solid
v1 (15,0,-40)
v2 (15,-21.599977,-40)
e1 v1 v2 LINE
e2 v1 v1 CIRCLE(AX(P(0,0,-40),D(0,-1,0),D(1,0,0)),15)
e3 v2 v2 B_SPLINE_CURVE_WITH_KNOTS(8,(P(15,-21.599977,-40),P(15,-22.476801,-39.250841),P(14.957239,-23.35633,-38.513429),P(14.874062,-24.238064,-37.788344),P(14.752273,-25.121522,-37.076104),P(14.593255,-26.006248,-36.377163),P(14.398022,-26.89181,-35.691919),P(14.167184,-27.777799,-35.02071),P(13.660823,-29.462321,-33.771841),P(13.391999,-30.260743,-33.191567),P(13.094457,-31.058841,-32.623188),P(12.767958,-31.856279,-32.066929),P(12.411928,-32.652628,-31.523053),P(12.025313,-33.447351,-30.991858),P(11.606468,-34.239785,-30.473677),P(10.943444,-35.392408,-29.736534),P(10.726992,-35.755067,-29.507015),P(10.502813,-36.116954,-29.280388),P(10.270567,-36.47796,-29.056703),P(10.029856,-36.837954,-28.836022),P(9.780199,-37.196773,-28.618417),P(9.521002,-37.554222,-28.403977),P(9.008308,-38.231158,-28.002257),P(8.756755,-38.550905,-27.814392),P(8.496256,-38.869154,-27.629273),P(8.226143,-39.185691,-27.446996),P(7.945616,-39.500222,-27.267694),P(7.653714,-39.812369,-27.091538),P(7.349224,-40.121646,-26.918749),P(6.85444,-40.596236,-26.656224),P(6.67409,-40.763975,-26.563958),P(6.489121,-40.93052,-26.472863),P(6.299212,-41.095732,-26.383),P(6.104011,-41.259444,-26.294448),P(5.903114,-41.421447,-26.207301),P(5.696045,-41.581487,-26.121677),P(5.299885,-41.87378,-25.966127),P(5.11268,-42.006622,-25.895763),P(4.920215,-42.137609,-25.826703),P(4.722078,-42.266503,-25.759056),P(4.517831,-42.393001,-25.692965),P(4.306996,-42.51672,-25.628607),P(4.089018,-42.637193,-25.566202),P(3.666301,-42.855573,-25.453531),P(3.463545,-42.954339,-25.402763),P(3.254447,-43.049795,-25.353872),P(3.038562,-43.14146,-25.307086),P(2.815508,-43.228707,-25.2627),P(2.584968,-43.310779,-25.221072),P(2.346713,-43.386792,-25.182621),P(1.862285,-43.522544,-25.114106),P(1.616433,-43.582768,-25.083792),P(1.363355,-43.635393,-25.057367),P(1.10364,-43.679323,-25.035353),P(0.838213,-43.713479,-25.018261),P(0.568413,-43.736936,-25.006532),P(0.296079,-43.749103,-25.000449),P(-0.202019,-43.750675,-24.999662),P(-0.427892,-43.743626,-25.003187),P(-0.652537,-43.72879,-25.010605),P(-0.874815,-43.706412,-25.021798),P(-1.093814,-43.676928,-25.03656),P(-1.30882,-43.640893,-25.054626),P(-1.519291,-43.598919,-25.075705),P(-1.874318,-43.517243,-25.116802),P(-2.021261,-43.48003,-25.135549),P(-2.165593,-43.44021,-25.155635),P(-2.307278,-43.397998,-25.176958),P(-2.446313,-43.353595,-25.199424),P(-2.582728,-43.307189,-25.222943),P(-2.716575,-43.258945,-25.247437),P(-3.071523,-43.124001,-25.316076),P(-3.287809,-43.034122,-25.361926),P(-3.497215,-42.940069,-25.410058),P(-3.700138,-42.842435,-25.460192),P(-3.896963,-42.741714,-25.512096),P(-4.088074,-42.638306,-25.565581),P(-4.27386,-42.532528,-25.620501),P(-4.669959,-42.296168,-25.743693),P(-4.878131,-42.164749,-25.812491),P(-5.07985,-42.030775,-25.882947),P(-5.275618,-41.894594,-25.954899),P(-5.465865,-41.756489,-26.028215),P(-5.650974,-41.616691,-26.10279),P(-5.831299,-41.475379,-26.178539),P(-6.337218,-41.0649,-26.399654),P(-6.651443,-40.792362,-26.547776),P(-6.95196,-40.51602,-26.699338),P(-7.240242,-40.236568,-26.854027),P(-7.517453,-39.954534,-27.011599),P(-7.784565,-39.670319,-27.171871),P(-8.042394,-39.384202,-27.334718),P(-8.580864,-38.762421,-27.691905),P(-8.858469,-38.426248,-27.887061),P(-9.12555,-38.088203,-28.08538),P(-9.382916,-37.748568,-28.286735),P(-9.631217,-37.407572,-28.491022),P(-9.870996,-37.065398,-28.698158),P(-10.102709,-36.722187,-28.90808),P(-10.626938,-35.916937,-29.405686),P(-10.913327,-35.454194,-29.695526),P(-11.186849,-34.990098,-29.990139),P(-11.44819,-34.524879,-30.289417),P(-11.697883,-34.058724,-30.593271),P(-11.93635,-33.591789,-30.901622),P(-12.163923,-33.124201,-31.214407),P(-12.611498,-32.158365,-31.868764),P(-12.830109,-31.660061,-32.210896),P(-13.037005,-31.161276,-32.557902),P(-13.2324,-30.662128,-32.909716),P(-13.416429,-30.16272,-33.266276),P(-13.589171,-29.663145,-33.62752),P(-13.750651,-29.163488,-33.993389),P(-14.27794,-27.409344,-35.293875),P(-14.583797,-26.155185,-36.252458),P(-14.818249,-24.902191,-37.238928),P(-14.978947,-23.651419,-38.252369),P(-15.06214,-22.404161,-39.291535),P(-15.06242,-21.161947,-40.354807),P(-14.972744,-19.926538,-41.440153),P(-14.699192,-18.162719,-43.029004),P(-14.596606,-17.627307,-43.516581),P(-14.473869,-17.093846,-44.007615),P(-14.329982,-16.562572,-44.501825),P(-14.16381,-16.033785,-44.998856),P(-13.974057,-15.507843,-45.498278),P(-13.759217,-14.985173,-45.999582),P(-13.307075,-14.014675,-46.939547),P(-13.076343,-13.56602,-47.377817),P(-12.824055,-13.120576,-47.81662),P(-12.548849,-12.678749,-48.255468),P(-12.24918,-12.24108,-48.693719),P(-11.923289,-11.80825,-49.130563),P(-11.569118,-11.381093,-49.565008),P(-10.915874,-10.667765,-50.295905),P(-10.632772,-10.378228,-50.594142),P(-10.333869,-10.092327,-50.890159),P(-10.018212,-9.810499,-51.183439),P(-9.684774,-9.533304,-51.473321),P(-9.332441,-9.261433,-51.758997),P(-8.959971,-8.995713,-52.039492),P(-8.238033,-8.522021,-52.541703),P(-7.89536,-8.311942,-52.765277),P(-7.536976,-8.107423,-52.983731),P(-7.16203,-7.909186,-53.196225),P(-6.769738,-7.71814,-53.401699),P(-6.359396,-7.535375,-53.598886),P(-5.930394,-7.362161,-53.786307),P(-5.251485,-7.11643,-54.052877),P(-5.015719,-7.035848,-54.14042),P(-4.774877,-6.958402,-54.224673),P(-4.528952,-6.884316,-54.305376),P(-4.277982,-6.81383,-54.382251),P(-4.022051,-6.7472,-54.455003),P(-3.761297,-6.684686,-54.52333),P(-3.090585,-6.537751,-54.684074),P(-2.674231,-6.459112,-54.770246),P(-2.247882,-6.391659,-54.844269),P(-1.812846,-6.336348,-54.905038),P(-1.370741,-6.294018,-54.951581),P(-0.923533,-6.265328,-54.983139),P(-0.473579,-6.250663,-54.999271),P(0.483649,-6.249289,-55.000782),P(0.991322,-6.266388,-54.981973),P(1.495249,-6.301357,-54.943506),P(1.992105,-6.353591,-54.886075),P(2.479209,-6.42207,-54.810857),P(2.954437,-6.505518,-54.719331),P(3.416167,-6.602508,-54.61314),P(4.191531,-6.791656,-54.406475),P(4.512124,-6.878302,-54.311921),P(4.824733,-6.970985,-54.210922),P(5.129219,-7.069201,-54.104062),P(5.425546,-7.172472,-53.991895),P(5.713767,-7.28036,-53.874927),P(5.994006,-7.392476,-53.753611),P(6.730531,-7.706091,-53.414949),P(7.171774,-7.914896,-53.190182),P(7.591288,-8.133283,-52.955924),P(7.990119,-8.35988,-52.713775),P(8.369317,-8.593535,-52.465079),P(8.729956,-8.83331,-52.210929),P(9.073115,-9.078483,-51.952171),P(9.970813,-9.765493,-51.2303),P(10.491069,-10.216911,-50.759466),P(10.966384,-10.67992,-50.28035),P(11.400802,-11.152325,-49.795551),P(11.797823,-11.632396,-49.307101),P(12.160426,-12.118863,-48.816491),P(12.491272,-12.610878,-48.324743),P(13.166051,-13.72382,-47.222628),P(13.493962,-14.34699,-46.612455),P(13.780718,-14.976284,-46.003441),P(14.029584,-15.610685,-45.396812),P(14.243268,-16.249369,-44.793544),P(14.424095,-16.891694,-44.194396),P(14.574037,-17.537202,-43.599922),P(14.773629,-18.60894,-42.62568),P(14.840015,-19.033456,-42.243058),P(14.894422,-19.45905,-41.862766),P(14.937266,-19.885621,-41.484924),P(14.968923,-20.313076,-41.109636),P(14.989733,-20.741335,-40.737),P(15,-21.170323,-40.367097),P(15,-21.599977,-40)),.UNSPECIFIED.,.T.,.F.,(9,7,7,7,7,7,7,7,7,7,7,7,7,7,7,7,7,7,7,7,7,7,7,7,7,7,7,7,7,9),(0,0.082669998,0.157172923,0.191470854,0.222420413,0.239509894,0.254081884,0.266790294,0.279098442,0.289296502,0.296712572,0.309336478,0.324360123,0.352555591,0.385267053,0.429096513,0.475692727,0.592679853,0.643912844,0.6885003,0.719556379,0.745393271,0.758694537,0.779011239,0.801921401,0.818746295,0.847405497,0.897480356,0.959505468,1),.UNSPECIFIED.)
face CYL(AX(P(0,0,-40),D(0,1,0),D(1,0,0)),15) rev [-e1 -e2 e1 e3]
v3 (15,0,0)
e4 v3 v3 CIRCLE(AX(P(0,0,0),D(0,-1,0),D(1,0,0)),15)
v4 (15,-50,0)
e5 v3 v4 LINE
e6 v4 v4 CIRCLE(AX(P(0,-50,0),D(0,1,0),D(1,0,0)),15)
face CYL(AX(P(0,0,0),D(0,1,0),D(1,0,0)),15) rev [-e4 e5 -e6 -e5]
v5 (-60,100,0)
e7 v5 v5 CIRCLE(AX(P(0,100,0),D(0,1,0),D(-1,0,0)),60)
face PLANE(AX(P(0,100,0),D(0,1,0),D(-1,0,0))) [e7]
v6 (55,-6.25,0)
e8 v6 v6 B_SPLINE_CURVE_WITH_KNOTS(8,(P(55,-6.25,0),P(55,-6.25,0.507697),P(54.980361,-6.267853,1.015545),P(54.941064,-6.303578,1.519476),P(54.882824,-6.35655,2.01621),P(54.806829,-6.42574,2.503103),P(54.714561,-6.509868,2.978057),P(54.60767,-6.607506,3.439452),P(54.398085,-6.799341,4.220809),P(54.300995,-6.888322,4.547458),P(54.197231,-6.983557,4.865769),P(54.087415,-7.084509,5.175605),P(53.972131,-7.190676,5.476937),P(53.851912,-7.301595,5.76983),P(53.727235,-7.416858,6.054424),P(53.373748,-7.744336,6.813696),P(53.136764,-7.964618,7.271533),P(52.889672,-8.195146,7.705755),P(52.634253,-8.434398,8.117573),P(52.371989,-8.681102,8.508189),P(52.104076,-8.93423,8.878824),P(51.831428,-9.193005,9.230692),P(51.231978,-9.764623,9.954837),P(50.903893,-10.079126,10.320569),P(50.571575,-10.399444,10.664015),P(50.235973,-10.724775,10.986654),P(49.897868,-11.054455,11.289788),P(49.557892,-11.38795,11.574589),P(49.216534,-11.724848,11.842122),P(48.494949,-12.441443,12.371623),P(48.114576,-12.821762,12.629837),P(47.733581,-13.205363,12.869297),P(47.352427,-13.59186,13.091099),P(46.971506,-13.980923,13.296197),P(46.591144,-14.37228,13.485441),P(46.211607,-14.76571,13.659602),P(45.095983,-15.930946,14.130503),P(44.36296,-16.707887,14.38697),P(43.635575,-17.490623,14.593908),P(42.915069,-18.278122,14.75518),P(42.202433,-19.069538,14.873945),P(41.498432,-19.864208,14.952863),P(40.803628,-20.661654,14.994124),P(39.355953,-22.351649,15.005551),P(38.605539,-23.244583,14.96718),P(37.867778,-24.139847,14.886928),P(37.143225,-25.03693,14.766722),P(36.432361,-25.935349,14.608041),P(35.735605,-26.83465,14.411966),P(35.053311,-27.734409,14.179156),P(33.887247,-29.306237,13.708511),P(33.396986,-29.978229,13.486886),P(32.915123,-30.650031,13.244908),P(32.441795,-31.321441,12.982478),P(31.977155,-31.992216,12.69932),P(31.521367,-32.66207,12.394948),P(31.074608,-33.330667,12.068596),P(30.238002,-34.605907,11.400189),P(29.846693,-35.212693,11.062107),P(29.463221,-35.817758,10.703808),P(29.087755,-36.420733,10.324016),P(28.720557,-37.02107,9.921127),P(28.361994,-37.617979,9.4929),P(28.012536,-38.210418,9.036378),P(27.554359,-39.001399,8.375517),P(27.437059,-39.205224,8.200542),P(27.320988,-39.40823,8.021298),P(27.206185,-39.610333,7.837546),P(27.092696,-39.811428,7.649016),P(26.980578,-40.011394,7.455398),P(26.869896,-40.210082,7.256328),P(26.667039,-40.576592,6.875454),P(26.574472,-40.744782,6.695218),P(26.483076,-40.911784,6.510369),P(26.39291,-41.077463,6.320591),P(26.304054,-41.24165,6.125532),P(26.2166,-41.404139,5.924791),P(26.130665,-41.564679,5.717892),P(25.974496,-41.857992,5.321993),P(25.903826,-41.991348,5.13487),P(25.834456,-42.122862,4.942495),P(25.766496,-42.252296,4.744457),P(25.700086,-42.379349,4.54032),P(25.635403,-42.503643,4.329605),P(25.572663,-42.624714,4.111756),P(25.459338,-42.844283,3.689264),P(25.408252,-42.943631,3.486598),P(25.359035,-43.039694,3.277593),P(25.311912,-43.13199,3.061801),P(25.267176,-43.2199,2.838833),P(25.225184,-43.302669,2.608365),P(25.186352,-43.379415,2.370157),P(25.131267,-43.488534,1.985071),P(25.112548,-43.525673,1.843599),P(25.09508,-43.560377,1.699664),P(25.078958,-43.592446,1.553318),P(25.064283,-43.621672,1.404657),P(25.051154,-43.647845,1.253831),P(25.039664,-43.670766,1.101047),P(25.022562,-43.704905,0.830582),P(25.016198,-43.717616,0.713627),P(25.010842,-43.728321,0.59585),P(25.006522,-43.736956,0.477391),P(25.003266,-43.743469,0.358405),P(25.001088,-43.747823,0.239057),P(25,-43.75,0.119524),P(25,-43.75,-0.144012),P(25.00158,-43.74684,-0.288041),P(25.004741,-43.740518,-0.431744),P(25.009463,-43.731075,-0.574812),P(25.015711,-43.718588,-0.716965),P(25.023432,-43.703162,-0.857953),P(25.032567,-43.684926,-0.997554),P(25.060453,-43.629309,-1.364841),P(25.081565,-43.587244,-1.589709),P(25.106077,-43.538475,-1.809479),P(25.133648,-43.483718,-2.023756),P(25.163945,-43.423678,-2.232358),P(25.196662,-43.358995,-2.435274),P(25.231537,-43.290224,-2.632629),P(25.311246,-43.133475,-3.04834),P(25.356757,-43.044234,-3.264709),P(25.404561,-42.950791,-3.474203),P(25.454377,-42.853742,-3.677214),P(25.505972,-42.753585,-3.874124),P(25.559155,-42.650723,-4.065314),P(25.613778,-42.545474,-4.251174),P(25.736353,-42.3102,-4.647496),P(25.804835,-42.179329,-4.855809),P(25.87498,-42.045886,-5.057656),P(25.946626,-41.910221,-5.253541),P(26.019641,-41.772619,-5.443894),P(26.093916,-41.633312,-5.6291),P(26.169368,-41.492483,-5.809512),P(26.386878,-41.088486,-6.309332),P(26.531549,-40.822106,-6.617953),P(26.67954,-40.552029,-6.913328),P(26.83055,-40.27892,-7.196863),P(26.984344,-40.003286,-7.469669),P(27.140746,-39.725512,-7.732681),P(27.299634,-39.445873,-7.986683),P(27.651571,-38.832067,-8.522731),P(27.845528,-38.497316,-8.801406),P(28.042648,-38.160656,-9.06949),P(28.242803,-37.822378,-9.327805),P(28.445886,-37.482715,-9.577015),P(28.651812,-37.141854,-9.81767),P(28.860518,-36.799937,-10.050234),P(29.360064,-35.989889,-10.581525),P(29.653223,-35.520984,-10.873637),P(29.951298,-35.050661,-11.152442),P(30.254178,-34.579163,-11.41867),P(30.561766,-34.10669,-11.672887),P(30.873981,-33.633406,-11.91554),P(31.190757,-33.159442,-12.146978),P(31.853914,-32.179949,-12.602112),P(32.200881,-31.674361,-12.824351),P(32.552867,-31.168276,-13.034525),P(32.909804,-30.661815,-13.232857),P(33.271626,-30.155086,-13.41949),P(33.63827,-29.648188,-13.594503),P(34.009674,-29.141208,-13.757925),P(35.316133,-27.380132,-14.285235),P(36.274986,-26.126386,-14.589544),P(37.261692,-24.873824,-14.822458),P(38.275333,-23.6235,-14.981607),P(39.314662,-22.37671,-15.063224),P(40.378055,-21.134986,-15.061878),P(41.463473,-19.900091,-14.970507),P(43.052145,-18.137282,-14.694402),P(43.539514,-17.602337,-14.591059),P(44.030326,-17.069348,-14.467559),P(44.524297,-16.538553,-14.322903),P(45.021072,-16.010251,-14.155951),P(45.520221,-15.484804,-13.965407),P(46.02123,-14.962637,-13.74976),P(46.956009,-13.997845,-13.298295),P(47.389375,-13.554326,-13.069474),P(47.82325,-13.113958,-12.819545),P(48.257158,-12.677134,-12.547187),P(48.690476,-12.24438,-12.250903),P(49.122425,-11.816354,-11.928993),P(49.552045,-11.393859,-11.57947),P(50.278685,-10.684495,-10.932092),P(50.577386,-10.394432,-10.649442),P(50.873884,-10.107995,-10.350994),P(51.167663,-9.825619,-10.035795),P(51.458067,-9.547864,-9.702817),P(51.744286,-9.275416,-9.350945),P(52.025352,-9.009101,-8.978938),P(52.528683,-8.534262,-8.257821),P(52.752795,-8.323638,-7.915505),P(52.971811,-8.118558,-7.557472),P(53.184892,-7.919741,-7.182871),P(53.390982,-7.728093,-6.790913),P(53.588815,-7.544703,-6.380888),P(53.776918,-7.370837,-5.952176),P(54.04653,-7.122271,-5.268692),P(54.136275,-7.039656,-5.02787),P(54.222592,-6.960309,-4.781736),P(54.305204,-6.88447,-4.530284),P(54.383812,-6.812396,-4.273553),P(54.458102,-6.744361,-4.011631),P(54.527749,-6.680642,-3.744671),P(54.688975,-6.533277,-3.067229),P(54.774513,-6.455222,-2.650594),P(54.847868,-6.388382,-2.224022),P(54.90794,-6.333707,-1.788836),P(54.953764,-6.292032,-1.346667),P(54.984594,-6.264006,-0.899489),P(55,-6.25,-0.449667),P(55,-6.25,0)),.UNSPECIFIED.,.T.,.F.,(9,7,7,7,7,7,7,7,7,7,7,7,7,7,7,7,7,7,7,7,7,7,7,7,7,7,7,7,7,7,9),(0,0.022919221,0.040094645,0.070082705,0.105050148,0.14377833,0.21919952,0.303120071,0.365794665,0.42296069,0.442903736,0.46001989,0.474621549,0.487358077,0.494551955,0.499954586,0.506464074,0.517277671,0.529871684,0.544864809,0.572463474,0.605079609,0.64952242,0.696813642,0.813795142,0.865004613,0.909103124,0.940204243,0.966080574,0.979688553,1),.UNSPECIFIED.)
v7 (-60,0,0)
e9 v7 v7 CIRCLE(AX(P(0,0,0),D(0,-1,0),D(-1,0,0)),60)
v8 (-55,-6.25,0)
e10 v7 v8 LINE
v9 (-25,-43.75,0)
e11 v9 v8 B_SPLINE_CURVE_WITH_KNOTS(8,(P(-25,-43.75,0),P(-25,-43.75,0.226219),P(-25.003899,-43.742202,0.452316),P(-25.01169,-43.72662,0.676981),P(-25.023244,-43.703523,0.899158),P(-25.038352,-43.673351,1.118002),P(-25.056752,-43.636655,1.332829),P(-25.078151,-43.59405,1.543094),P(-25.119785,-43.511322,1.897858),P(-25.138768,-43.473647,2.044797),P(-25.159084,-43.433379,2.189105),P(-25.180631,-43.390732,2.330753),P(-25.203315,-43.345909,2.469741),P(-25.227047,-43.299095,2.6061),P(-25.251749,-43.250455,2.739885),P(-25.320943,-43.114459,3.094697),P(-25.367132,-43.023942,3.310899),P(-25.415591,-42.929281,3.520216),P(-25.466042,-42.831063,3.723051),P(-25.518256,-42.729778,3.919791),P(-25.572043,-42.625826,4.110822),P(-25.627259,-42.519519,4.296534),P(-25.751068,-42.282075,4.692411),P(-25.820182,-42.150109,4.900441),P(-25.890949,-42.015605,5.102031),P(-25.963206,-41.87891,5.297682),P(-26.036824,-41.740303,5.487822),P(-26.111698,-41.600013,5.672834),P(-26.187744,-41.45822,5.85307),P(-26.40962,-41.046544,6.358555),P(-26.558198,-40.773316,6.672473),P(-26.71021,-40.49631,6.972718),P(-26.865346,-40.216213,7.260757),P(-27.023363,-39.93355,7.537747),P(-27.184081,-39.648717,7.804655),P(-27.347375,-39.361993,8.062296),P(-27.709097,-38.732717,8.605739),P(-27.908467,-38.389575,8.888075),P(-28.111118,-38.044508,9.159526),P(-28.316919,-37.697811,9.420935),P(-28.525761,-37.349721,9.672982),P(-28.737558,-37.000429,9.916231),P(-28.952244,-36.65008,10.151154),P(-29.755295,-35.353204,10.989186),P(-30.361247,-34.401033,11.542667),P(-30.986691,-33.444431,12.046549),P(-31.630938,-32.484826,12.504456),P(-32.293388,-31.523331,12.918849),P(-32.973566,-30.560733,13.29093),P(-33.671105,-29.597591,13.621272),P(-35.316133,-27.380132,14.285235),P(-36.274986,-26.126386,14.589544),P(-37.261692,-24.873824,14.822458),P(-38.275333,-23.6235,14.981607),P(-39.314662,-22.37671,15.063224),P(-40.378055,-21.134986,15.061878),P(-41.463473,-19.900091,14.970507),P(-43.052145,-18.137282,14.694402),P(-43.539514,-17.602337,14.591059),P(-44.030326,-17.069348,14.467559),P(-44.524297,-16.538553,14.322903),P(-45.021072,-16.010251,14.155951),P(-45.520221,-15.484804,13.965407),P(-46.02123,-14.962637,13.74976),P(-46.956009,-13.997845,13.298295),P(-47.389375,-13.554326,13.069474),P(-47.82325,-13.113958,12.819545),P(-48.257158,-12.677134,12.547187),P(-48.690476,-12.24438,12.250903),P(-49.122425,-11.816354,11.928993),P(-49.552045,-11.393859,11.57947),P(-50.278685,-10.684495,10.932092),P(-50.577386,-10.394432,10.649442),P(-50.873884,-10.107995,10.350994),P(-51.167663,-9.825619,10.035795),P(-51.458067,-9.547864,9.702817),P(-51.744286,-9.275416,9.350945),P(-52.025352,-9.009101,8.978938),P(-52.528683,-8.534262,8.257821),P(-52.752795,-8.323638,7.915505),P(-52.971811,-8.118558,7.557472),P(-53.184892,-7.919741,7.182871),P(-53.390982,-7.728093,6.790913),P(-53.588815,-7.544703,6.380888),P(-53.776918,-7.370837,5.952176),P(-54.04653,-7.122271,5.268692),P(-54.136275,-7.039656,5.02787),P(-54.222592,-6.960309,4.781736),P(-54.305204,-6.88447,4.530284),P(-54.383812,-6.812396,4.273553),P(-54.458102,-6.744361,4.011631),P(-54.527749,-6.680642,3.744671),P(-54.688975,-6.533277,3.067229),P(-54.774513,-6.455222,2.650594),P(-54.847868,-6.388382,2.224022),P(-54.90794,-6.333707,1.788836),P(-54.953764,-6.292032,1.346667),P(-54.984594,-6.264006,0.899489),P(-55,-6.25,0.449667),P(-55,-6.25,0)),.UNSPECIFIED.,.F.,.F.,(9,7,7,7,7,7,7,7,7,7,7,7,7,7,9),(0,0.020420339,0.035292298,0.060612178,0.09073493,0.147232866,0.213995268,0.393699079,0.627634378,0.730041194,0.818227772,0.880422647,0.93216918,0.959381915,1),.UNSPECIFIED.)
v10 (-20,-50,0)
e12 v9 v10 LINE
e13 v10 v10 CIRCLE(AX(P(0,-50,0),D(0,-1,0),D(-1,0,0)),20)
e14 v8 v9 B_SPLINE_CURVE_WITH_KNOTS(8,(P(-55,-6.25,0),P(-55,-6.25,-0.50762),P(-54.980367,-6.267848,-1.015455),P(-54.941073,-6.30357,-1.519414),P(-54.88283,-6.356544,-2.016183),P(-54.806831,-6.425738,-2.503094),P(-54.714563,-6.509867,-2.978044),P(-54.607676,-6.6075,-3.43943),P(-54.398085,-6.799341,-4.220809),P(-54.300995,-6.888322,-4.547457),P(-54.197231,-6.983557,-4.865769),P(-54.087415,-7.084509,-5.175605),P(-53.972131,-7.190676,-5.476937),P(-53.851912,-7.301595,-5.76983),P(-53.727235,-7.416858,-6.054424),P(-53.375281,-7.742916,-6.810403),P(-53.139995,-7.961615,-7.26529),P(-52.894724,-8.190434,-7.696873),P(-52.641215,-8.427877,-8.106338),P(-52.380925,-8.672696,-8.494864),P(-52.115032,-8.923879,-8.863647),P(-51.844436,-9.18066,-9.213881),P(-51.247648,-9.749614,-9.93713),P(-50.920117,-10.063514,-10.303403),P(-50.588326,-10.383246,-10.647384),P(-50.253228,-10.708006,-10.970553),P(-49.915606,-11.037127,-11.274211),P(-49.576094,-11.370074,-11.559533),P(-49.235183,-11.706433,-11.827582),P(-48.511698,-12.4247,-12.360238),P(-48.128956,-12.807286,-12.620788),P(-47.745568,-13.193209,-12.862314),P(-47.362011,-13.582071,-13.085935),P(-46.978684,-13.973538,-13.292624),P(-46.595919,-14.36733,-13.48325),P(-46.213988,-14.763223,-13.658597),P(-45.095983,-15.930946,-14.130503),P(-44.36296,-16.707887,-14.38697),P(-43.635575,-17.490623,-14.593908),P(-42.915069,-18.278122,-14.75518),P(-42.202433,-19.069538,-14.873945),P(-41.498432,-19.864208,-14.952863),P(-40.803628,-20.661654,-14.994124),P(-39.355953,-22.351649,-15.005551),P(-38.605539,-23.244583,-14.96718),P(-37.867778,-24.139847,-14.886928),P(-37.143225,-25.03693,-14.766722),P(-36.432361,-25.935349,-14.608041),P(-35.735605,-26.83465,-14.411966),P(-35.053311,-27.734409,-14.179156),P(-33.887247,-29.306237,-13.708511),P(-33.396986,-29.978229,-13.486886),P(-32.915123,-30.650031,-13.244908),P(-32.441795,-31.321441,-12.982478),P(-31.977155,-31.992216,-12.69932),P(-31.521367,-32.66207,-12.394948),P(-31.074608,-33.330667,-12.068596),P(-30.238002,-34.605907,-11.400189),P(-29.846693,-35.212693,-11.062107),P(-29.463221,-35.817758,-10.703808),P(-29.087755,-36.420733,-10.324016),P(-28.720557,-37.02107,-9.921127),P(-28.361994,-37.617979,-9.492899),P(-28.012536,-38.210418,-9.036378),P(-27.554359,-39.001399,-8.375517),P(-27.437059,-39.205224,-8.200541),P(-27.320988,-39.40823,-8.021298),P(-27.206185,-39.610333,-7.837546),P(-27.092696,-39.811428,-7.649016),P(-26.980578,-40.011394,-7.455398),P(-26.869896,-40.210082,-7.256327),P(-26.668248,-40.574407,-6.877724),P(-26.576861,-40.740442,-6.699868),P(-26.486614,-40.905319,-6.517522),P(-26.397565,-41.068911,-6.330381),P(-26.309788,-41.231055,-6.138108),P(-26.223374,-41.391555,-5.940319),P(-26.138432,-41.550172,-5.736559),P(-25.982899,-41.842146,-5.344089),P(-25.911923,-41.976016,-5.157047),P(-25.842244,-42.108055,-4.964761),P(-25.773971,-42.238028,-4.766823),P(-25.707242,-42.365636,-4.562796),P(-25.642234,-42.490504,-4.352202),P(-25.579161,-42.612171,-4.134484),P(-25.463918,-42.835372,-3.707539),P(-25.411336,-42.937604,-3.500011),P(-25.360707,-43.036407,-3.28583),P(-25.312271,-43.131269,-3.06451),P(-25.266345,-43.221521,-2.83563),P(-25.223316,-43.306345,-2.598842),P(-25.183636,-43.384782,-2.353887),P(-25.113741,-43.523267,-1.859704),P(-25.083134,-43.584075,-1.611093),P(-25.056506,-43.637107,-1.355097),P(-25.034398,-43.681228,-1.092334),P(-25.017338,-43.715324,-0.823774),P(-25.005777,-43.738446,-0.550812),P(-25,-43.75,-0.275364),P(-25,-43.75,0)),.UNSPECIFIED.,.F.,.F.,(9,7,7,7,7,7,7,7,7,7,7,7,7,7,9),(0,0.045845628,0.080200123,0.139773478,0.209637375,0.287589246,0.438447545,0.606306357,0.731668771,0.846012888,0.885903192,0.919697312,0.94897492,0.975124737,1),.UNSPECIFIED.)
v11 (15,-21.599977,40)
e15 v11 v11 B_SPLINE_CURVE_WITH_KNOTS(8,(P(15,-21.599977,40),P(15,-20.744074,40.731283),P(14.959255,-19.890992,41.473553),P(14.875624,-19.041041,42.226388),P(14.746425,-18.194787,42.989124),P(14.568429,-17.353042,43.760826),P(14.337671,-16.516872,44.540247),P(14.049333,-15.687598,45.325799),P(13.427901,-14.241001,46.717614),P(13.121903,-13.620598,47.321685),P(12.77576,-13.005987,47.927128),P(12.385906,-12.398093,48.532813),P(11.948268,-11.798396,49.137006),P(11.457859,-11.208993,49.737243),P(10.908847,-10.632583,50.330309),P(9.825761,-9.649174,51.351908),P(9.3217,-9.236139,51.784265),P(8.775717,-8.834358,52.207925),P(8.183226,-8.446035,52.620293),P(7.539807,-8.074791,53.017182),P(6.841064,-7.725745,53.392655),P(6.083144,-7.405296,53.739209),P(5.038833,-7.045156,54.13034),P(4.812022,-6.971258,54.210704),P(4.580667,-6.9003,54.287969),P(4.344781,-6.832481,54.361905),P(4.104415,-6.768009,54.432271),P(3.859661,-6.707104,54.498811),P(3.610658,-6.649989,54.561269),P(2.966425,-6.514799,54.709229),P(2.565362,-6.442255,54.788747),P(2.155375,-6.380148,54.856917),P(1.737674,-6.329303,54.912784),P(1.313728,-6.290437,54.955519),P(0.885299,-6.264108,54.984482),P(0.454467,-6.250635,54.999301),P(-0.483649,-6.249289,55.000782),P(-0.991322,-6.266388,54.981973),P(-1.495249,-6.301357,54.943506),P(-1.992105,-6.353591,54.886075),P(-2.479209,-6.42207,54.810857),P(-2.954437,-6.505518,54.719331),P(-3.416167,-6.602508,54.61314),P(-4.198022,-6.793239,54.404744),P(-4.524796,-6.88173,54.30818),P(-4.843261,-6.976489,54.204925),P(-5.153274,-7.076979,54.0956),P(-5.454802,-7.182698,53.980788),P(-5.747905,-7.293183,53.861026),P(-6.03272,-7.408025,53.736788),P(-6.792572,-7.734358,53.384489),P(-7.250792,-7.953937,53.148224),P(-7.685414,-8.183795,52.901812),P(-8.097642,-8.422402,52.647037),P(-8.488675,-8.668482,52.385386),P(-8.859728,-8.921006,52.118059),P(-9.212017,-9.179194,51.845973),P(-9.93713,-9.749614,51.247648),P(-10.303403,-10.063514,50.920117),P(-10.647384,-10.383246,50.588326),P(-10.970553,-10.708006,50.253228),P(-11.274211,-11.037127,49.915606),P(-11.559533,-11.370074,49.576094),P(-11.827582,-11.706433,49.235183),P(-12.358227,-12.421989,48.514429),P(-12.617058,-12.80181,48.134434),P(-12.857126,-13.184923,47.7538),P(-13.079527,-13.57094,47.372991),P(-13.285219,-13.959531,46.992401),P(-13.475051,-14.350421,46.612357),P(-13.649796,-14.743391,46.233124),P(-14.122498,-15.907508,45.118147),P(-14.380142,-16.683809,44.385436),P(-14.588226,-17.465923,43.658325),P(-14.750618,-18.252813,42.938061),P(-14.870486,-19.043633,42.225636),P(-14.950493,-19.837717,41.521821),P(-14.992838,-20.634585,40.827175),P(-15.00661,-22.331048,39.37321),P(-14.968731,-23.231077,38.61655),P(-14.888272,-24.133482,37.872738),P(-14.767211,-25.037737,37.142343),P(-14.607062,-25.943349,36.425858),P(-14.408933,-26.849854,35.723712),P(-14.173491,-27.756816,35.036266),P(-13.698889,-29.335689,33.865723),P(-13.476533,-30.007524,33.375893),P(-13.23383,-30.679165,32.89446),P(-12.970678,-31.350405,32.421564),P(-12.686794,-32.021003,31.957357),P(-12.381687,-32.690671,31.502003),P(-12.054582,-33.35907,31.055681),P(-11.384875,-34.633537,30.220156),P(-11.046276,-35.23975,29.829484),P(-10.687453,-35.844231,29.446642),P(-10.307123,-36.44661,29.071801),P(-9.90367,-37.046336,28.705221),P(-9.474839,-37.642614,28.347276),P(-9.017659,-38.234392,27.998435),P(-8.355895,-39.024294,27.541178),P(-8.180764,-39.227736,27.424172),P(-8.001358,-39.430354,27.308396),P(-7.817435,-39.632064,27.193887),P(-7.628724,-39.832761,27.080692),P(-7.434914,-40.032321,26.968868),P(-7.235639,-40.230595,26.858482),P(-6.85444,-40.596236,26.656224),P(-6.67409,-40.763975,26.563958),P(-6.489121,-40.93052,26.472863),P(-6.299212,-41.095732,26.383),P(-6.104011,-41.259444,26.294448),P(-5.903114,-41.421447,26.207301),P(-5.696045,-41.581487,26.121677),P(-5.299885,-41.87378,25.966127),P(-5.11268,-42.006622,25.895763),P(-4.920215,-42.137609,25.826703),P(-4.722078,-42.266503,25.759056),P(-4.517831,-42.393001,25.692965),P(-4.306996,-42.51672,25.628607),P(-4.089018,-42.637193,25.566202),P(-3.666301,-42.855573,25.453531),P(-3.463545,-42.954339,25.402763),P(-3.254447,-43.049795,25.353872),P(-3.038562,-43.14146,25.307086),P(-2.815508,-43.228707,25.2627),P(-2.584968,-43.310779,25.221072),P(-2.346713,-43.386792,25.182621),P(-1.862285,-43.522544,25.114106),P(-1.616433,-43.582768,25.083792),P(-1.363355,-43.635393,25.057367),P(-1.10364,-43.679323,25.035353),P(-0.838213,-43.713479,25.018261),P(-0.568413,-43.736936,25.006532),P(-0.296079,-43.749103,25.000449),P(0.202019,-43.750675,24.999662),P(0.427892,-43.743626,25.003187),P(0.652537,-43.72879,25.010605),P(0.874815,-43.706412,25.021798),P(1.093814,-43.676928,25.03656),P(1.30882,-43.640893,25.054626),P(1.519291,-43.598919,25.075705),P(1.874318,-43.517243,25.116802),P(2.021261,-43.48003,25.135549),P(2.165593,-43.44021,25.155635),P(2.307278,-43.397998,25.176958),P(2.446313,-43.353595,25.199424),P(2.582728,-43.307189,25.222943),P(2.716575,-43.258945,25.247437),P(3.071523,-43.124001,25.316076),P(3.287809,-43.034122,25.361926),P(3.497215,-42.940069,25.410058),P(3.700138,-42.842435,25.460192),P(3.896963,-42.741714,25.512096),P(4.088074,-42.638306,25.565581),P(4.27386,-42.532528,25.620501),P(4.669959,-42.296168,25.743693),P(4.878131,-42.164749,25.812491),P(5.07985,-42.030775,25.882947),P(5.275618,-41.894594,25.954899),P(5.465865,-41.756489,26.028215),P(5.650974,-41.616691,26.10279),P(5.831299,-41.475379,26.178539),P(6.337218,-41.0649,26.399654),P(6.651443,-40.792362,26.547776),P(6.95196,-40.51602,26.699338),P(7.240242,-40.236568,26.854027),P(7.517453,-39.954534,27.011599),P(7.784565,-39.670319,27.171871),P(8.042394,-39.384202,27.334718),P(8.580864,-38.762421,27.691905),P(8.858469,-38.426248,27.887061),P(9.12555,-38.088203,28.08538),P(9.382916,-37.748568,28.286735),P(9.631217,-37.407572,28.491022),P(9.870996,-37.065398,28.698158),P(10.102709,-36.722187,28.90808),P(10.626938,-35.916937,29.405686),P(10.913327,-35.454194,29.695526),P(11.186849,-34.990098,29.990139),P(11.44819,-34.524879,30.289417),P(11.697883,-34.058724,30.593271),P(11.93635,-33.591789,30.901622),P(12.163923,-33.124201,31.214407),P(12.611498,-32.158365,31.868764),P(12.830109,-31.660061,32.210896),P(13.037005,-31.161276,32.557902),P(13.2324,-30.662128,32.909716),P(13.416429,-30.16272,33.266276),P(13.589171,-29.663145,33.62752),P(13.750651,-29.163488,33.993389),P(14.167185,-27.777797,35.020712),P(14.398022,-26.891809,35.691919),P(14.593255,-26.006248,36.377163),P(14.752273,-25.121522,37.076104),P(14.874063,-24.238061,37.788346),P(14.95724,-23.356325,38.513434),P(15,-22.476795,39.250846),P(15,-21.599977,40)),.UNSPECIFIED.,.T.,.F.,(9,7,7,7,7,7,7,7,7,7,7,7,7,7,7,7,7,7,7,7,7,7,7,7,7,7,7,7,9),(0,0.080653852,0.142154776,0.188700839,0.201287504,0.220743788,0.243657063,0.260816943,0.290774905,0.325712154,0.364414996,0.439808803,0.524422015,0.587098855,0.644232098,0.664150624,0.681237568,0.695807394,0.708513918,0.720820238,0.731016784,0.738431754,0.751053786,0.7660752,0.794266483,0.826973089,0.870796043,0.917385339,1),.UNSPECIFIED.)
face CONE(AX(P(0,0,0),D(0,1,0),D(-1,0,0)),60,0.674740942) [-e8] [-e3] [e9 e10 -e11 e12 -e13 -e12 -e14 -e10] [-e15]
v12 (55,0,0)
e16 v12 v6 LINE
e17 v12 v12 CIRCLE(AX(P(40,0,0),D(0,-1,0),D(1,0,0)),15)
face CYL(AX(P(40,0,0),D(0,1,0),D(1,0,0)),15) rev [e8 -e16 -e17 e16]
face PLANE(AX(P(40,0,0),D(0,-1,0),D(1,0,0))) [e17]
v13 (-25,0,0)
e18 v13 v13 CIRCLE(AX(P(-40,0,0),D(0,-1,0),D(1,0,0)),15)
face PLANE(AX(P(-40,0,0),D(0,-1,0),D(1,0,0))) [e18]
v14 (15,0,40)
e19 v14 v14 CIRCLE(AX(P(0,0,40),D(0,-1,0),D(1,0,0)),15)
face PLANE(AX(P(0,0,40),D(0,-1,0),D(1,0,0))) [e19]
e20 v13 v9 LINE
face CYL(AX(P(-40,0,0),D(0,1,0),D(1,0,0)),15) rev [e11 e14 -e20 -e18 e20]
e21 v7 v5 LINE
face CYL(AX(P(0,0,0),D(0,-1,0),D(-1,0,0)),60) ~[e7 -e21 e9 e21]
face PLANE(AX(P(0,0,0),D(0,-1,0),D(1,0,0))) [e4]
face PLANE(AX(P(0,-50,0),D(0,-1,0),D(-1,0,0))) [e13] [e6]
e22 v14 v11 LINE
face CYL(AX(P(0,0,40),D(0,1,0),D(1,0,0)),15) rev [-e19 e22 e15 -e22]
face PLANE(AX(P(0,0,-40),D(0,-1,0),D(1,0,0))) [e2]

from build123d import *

# Parameters (mm, degrees)
F0_FACE_R = 60
F4_DEPTH  = 100
F1_R      = 15
F2_DEPTH  = 50.001


with BuildPart() as f0:
    # F3 (on Top) → F0 (revolve)
    with BuildSketch(Plane.XY):
        Polygon((0, 0), (-60, 0), (-20, -50), (0, -50), align=None)
    revolve(axis=Axis((0, -25, 0), (0, -1, 0)))

    # F0_face (on face) → F4 (join)
    with BuildSketch(Plane(origin=(0, 0, 0), x_dir=(-1, 0, 0), z_dir=(0, 1, 0))):
        Circle(F0_FACE_R)
    extrude(amount=F4_DEPTH)

    # F1 (on Front) → F2 (cut, through all)
    with BuildSketch(Plane.XZ):
        Circle(F1_R)
        with Locations((0, 40)):
            Circle(F1_R)
        with Locations((0, -40)):
            Circle(F1_R)
        with Locations((40, 0)):
            Circle(F1_R)
        with Locations((-40, 0)):
            Circle(F1_R)
    extrude(amount=F2_DEPTH, mode=Mode.SUBTRACT)


solid = f0.part
